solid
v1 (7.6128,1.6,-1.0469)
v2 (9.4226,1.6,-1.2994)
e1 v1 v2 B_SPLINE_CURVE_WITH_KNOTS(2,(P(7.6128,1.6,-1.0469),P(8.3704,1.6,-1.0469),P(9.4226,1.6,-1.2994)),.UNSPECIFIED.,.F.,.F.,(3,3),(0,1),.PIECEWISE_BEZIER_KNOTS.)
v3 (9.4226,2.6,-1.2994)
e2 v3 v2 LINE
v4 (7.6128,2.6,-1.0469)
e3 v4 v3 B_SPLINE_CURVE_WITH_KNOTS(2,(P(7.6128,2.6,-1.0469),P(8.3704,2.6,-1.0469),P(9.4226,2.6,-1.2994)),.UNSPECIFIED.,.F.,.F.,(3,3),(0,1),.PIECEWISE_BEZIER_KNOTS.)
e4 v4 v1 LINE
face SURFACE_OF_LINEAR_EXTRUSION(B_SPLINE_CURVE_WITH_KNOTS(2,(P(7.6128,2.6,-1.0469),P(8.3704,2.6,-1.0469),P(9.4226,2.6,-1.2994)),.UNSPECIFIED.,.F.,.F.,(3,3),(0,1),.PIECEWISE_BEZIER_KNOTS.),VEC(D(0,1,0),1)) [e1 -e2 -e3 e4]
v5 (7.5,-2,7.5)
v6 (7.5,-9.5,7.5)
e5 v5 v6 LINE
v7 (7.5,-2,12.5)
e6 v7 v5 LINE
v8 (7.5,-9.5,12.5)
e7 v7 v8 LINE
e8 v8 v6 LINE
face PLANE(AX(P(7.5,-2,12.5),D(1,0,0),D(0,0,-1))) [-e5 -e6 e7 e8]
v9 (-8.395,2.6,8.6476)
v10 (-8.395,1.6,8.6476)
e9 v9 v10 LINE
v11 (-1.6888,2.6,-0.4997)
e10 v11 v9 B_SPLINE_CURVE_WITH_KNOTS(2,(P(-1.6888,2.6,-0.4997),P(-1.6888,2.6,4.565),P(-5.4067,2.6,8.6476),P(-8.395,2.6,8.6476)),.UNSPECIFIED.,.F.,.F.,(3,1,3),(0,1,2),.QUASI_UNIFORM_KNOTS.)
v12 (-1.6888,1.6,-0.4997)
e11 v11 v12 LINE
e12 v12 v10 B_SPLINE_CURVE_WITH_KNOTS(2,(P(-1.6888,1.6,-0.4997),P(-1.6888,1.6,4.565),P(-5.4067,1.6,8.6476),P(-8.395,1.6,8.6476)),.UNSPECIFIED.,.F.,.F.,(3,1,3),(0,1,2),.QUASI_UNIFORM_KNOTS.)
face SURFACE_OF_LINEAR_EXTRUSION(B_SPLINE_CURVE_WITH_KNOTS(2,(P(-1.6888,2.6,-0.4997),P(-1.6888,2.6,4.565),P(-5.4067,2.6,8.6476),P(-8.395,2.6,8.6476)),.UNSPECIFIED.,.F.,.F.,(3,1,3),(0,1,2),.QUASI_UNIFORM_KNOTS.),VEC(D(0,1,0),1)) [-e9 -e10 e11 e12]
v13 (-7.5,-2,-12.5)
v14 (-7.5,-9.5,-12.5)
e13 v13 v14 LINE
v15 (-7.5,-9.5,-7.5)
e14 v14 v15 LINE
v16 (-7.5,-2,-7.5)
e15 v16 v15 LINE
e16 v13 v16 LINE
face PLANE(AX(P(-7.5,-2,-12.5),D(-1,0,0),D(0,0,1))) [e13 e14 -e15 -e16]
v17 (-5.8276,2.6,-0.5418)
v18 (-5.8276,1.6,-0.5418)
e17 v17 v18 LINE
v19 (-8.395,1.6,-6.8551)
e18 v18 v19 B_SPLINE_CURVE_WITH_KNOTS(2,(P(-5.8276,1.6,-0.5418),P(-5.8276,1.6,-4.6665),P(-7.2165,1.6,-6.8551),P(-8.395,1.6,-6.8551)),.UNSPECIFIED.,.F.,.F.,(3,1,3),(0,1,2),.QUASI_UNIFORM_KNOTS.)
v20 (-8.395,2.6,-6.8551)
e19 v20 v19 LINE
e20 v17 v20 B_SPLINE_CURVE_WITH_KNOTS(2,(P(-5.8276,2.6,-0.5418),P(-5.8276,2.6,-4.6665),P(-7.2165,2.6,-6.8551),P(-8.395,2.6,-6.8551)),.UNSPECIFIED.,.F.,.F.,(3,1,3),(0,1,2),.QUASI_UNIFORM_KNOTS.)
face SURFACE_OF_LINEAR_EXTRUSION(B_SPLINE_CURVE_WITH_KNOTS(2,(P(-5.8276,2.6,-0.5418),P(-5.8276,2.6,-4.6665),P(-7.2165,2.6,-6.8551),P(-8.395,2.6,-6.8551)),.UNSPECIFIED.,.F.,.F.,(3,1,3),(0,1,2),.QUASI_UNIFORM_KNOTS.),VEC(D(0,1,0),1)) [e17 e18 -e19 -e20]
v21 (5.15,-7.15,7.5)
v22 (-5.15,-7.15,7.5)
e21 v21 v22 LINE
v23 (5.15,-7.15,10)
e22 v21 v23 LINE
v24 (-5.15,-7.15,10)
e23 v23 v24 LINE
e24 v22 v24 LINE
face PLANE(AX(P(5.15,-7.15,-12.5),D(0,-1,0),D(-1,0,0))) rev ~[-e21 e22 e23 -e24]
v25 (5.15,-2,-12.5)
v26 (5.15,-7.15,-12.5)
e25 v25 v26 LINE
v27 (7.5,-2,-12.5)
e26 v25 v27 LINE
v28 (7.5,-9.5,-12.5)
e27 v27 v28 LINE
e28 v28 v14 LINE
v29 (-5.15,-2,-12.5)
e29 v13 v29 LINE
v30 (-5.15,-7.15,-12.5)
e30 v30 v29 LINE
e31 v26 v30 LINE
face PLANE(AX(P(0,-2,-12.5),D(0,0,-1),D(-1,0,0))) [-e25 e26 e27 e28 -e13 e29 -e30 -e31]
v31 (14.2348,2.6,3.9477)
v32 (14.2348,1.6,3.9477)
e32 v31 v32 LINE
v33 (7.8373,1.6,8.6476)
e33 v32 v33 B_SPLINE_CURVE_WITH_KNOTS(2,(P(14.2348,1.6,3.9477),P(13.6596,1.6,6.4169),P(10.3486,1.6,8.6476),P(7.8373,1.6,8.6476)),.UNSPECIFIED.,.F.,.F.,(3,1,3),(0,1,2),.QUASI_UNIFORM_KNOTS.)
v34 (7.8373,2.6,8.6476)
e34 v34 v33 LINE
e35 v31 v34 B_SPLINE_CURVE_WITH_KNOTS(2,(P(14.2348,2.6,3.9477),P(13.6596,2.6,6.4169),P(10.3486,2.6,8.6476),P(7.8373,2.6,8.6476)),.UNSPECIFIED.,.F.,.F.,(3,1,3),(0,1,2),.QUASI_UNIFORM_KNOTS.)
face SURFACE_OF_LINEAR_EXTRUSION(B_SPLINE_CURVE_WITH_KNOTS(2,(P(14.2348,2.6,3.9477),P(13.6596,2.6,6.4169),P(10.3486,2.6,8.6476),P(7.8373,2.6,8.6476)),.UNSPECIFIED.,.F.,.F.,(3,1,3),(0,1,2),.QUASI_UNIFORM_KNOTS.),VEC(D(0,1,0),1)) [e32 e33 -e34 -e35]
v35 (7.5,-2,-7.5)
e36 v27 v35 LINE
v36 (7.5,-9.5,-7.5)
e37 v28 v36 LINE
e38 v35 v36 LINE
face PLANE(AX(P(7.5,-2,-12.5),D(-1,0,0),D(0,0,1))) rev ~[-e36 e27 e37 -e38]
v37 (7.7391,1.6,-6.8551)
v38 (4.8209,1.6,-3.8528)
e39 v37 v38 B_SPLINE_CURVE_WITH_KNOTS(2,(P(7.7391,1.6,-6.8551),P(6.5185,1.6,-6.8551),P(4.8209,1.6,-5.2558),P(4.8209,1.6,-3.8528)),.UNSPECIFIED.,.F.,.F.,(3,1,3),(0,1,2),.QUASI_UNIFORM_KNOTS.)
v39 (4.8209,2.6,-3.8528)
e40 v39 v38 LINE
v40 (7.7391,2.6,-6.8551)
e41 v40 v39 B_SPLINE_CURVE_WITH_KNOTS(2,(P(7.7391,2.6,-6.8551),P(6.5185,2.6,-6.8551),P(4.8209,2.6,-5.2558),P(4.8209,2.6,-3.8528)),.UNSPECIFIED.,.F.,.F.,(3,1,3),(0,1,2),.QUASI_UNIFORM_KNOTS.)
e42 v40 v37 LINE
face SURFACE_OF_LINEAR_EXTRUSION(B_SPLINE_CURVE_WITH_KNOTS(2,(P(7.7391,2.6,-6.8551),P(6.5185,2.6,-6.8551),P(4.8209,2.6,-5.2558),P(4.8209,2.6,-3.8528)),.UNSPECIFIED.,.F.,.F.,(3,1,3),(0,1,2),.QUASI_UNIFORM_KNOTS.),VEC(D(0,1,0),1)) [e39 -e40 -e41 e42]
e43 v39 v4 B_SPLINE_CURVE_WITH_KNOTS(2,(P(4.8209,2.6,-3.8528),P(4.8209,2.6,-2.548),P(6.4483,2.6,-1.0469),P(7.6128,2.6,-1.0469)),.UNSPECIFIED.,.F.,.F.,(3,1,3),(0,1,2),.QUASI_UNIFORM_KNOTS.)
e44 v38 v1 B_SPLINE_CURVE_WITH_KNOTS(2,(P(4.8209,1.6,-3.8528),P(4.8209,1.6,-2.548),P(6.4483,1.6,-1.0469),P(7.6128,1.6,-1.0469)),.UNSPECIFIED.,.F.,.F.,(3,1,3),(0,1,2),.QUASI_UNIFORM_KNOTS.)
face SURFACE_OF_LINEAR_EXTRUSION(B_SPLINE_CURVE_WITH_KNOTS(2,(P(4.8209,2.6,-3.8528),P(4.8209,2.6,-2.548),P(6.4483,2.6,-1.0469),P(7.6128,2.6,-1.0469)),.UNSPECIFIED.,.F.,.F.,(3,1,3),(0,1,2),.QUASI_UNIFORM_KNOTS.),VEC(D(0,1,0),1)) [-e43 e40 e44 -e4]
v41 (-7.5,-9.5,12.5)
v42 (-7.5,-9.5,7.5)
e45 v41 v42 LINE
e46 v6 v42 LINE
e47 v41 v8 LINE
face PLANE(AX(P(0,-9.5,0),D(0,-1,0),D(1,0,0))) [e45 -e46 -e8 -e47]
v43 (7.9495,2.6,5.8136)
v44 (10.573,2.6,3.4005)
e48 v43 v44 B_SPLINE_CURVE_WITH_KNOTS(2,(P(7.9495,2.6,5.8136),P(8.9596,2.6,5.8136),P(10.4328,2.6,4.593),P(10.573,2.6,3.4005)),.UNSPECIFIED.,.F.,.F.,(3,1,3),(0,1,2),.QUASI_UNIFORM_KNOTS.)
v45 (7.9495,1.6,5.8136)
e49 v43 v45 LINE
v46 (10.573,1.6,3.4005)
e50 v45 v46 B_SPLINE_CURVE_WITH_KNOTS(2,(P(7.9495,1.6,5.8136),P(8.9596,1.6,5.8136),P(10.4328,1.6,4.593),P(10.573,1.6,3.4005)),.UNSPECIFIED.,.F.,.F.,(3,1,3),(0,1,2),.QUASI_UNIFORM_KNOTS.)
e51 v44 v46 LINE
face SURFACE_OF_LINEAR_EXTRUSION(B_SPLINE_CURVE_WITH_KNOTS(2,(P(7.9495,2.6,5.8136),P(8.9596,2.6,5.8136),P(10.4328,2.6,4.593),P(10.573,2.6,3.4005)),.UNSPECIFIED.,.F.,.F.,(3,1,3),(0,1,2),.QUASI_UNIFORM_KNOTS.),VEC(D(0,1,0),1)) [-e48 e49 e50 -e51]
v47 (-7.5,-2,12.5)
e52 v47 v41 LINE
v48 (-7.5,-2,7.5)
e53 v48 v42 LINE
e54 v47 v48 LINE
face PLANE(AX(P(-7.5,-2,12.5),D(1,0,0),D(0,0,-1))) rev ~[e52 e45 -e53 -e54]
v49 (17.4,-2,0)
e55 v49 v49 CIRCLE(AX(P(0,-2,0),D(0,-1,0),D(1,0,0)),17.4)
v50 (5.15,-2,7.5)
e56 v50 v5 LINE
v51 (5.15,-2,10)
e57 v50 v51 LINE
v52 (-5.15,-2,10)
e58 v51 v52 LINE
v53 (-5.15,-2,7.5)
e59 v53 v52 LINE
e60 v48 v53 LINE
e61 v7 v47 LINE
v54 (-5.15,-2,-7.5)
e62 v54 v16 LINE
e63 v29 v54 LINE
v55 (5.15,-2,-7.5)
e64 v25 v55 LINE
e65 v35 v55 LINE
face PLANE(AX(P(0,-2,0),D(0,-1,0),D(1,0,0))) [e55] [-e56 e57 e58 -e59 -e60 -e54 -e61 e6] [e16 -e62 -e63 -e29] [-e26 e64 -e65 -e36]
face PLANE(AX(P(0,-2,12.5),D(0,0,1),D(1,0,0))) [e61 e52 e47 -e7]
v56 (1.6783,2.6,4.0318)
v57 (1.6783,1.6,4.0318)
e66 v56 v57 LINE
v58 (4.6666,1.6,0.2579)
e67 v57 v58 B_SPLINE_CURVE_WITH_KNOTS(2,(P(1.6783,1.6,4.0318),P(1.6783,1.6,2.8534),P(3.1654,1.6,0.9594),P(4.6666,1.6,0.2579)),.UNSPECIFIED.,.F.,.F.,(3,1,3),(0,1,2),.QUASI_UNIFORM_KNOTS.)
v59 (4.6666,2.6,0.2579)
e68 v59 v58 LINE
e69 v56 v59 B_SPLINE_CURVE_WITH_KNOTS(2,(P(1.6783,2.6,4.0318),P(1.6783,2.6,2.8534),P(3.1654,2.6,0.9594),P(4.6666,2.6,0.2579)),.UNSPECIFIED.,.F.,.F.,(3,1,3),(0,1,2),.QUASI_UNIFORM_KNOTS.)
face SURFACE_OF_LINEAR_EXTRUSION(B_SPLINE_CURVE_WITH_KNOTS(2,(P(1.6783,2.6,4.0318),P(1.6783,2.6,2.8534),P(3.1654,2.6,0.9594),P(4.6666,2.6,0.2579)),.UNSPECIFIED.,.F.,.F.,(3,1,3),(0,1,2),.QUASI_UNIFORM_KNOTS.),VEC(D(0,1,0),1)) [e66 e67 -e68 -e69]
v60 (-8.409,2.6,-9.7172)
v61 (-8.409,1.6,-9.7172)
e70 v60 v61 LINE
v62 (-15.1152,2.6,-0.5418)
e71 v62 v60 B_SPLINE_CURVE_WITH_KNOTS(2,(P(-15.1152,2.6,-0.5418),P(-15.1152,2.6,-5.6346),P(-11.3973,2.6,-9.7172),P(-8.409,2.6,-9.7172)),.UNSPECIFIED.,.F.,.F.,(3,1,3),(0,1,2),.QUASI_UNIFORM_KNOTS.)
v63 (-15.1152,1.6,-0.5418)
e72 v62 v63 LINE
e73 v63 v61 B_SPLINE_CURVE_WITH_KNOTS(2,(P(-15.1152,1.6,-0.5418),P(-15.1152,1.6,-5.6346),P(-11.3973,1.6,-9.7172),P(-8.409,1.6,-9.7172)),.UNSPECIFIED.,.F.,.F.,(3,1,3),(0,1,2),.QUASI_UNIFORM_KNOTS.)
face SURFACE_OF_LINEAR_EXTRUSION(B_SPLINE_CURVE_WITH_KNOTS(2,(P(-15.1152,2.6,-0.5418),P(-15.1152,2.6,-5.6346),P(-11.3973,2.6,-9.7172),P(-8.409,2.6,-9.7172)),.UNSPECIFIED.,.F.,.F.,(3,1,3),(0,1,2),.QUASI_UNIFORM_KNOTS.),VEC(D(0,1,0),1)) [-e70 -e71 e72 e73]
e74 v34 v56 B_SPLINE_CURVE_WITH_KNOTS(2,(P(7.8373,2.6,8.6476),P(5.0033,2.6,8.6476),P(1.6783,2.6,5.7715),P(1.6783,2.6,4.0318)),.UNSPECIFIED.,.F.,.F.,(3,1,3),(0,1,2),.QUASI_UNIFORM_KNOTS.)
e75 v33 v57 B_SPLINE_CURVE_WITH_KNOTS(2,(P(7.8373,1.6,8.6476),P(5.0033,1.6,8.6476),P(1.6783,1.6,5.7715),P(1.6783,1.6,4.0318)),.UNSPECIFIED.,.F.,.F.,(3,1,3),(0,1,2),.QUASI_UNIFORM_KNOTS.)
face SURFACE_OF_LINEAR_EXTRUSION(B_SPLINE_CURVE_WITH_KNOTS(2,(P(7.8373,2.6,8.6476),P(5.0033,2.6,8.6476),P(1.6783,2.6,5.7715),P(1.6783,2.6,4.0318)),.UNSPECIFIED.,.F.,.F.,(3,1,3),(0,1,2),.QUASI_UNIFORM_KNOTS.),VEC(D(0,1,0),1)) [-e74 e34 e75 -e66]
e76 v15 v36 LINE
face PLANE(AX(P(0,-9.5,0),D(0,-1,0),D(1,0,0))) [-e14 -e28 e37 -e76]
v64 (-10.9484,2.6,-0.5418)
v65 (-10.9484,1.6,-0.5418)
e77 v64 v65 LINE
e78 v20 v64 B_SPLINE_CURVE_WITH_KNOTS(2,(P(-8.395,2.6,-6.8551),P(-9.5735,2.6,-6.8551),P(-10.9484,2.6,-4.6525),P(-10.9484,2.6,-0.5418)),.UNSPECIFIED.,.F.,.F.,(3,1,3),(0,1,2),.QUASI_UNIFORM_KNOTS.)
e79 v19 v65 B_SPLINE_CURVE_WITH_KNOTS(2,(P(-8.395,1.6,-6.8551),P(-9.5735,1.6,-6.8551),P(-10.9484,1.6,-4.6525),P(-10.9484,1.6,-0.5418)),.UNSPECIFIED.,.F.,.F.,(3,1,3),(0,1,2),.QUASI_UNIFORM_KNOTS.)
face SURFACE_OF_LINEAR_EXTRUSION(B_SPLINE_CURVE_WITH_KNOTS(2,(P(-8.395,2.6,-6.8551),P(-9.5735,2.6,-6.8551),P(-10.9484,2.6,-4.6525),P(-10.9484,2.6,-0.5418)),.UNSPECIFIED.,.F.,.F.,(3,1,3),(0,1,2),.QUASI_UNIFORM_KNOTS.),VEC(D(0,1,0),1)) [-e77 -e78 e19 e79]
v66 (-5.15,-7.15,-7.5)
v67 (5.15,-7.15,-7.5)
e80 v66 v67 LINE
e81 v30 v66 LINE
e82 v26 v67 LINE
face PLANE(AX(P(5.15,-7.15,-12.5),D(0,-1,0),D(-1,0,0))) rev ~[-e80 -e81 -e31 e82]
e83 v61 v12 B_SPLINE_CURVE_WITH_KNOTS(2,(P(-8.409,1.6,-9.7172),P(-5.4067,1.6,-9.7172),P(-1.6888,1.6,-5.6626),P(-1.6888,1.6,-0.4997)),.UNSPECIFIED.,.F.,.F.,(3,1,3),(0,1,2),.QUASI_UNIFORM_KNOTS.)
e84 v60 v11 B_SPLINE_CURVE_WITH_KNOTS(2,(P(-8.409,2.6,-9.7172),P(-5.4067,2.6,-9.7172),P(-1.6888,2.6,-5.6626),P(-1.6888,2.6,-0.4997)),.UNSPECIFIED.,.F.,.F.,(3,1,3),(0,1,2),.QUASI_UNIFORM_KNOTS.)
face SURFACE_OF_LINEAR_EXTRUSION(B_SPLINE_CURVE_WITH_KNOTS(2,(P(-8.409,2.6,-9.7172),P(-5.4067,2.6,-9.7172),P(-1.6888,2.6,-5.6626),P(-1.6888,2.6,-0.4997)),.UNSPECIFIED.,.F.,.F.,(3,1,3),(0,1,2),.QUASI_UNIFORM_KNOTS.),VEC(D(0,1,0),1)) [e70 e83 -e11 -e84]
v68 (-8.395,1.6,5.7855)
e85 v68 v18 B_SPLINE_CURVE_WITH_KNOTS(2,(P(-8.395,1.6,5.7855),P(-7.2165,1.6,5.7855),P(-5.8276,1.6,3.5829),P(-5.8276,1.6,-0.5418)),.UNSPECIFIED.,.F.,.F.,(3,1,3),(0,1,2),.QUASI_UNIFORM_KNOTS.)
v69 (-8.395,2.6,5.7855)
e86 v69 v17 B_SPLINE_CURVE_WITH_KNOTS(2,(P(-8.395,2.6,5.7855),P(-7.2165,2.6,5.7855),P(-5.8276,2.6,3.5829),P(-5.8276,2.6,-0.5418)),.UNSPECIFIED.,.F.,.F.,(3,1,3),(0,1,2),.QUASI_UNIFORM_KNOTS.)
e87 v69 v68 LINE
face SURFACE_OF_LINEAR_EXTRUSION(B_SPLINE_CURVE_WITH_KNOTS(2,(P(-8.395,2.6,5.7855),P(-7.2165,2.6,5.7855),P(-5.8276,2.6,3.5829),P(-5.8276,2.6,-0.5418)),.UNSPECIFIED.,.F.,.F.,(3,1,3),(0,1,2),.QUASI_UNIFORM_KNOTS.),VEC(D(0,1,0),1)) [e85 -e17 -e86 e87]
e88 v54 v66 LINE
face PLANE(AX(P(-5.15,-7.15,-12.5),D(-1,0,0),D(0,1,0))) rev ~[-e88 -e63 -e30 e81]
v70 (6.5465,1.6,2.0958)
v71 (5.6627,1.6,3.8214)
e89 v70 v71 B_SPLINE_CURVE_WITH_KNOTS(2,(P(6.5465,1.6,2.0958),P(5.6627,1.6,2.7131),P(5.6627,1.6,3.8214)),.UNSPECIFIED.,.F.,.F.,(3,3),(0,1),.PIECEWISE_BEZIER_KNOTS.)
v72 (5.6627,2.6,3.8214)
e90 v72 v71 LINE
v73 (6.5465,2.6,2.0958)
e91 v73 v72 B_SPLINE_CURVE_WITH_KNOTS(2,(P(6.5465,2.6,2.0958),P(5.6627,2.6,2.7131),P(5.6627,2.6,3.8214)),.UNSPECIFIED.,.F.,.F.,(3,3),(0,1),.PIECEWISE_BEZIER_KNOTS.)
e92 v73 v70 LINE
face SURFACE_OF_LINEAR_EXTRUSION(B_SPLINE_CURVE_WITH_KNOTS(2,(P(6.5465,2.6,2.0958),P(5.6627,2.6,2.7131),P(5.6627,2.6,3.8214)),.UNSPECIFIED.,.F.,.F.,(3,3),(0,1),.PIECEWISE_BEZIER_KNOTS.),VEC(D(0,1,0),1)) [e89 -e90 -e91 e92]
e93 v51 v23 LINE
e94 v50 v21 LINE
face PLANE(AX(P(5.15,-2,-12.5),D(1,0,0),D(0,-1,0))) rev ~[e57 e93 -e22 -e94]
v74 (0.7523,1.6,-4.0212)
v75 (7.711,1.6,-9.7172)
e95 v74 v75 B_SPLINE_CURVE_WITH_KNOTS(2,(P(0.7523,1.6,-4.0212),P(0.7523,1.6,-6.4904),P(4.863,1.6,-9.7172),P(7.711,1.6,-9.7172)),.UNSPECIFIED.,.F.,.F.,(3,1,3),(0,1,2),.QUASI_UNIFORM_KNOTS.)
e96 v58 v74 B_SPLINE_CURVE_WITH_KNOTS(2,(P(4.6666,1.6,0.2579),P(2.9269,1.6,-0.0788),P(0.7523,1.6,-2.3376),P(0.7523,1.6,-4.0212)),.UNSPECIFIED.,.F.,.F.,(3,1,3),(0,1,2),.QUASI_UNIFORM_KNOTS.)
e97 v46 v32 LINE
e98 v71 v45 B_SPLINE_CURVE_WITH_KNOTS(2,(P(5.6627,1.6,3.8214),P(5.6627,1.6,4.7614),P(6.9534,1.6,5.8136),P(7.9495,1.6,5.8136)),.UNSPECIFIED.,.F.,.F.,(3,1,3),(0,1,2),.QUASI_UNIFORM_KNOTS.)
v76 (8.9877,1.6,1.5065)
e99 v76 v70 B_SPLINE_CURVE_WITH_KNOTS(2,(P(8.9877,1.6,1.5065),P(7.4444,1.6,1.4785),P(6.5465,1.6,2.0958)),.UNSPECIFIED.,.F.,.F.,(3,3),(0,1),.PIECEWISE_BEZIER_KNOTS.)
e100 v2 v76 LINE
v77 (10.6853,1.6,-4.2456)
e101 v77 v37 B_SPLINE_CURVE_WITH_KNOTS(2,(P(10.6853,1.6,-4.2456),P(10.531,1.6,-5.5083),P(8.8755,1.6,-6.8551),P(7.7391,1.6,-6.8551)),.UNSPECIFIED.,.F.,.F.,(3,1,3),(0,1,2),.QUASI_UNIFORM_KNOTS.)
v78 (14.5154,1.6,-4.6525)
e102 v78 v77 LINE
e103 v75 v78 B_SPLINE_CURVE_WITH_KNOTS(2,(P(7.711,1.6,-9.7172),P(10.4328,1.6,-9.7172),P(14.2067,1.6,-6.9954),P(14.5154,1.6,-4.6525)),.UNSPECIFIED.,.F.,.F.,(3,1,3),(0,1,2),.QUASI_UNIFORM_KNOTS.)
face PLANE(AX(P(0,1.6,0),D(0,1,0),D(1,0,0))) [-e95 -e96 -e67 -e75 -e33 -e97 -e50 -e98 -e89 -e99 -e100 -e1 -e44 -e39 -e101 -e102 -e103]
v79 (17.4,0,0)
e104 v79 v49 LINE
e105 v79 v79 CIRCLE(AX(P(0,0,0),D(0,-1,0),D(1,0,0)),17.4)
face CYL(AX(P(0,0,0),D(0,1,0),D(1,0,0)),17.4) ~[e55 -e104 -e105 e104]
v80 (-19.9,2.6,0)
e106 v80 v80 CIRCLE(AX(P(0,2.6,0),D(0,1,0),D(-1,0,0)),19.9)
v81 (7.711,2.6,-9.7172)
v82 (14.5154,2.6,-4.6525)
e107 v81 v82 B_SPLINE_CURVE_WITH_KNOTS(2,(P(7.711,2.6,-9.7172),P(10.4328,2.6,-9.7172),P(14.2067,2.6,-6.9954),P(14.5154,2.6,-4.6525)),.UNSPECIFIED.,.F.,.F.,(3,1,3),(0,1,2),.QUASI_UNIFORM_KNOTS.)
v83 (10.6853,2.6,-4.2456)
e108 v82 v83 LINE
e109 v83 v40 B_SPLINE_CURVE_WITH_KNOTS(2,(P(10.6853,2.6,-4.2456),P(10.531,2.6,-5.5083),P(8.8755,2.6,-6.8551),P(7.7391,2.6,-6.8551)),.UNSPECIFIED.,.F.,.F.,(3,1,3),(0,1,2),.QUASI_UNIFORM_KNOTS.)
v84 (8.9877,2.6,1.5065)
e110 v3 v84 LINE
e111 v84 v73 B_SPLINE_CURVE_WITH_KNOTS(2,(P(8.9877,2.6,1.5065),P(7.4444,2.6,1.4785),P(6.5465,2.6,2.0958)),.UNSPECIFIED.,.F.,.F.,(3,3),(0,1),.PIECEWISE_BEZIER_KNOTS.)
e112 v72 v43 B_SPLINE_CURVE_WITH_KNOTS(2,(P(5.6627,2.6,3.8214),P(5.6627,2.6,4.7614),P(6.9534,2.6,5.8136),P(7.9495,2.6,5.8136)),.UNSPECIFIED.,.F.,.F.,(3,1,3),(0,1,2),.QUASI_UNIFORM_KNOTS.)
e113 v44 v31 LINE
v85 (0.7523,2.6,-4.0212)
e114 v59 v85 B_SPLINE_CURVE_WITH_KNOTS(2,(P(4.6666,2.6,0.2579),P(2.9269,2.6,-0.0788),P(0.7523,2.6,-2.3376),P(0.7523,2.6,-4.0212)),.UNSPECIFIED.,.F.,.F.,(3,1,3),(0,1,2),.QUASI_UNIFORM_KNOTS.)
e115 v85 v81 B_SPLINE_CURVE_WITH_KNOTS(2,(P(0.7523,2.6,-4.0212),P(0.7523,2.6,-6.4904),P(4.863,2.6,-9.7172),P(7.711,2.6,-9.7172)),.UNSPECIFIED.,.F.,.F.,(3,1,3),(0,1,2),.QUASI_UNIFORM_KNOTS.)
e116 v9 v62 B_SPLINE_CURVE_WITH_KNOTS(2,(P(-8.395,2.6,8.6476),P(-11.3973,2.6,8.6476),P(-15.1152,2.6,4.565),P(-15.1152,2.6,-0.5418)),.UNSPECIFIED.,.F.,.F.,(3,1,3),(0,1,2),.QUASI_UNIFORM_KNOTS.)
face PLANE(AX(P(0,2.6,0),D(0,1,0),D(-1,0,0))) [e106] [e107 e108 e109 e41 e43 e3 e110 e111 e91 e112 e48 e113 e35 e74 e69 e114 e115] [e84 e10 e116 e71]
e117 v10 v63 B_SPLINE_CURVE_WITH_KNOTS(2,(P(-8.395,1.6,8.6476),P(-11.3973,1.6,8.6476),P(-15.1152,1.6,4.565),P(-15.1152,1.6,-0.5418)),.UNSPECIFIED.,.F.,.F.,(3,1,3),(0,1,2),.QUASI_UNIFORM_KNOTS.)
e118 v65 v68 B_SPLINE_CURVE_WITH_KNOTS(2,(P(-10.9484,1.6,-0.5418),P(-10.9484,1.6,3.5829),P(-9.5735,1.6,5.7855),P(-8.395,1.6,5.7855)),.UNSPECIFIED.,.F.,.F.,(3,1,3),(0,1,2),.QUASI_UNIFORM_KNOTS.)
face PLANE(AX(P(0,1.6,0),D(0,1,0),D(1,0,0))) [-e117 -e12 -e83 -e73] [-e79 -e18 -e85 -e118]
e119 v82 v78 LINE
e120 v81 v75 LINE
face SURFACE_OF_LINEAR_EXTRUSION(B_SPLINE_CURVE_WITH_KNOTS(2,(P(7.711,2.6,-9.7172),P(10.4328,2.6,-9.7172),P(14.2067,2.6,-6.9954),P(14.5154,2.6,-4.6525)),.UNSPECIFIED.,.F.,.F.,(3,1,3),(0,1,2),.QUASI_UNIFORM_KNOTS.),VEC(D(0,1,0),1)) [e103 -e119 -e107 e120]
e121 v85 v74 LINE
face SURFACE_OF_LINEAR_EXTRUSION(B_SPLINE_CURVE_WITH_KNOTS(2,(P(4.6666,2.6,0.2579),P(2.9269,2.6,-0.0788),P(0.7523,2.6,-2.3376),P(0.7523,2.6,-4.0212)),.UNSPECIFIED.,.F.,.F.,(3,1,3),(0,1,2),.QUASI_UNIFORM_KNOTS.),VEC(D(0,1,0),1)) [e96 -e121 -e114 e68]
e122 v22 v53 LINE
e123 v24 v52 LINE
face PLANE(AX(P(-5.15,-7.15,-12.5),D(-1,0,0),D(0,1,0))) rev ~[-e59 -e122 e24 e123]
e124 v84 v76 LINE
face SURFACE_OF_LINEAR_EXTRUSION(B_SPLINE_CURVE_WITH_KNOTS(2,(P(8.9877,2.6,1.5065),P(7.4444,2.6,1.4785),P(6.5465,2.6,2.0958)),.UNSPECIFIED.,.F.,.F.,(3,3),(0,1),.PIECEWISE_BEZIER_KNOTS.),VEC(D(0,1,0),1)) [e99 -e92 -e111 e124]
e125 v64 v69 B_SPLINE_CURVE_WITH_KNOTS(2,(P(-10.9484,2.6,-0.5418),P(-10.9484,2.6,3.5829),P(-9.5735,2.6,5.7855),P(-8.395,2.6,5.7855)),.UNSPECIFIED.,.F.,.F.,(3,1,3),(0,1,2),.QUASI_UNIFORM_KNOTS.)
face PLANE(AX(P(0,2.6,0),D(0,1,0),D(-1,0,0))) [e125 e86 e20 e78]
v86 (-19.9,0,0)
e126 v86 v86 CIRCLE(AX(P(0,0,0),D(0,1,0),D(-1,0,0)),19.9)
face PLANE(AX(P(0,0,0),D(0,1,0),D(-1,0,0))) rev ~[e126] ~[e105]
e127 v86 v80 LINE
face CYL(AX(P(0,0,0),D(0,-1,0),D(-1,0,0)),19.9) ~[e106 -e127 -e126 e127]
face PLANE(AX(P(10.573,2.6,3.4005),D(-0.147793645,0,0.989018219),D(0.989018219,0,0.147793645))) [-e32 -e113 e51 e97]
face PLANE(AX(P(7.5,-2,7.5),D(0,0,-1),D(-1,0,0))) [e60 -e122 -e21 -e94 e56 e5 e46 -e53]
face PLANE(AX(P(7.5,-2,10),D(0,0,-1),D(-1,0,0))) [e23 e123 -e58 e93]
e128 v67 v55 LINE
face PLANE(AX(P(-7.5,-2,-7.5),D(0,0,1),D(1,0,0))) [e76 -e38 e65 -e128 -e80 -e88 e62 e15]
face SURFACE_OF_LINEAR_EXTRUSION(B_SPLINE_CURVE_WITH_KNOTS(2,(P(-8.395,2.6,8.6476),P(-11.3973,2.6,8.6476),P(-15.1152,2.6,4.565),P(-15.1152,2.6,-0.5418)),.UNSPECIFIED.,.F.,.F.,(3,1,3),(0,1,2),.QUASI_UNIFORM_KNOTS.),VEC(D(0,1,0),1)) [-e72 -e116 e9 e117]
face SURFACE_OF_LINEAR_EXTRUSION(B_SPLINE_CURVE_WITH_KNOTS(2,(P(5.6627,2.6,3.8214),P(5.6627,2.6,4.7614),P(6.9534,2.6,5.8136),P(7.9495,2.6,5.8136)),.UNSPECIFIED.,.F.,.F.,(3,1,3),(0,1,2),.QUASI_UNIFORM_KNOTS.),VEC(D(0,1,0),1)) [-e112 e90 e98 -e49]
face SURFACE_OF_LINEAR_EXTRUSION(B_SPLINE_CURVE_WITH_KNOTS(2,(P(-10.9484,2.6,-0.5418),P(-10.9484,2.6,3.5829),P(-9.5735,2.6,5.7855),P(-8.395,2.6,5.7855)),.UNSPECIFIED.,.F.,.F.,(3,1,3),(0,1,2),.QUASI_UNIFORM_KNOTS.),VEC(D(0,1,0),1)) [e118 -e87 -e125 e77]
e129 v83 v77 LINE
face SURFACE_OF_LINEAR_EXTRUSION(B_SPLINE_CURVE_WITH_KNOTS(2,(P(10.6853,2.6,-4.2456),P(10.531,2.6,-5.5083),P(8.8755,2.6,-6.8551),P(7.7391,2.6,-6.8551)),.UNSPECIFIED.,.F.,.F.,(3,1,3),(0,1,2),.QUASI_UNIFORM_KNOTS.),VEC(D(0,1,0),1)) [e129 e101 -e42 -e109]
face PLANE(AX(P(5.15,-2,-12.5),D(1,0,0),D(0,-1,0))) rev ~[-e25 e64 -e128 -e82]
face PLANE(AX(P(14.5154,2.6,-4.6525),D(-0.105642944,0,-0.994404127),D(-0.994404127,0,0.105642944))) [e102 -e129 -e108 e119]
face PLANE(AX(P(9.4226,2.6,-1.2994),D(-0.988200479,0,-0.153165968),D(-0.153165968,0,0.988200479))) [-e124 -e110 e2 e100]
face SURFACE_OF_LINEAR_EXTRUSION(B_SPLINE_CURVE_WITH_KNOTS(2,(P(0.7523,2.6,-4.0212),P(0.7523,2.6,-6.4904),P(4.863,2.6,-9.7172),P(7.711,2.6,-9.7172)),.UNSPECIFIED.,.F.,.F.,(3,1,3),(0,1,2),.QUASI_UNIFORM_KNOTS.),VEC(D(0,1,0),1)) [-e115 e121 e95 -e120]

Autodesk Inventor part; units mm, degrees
ref_plane "YZ Plane" through (0, 0, 0) normal (1, 0, 0) x (0, 1, 0)
ref_plane "XZ Plane" through (0, 0, 0) normal (0, 1, 0) x (-1, 0, 0)
sketch "Sketch1" plane through (0, 0, 0) normal (0, 1, 0) x (-1, 0, 0)
  circle A0 centre (0, 0) radius 19.9
  dimension "d0" = 39.8
extrude "Extrusion1" add sketch "Sketch1" along normal blind 2.6
sketch "Sketch2" plane through (0, 0, 0) normal (0, -1, 0) x (1, 0, 0)
  circle A0 centre (0, 0) radius 19.9 projected
  circle A1 centre (0, 0) radius 17.4
  dimension "d3" = 34.8
extrude "Extrusion2" add sketch "Sketch2" along normal blind 2 contours A1
sketch "Sketch3" plane through (0, -2, 0) normal (0, -1, 0) x (1, 0, 0)
  circle A0 centre (0, 0) radius 17.4 projected
  line L0 (0, 0) -> (0, 17.4) construction
  line L1 (0, 0) -> (17.4, 0) construction
  line L2 (0, 12.5) -> (7.5, 12.5)
  line L3 (7.5, 12.5) -> (7.5, 7.5)
  line L4 (7.5, 7.5) -> (0, 7.5)
  line L5 (0, 12.5) -> (-7.5, 12.5)
  line L6 (-7.5, 12.5) -> (-7.5, 7.5)
  line L7 (-7.5, 7.5) -> (0, 7.5)
  line L8 (0, -12.5) -> (7.5, -12.5)
  line L9 (7.5, -12.5) -> (7.5, -7.5)
  line L10 (7.5, -7.5) -> (0, -7.5)
  line L11 (-7.5, -7.5) -> (0, -7.5)
  line L12 (-7.5, -12.5) -> (-7.5, -7.5)
  line L13 (0, -12.5) -> (-7.5, -12.5)
  dimension "d6" = 15
  dimension "d7" = 5
  dimension "d8" = 15
extrude "Extrusion3" add sketch "Sketch3" along normal blind 7.5 contours L2 L3 L4 L7 L6 L5 | L13 L12 L11 L10 L9 L8
ref_plane "Work Plane1" through (7.5, -9.5, 10) normal (0, 0, 1) x (1, 0, 0)
sketch "Sketch4" plane through (7.5, -2, -12.5) normal (0, 0, -1) x (-1, 0, 0)
  line L0 (0, 0) -> (15, 0) projected
  line L1 (0, 0) -> (0, -7.5) projected
  line L2 (15, -7.5) -> (0, -7.5) projected
  line L3 (15, 0) -> (15, -7.5) projected
  line L4 (2.35, 0) -> (2.35, -5.15)
  line L5 (2.35, -5.15) -> (12.65, -5.15)
  line L6 (12.65, -5.15) -> (12.65, 0)
  line L7 (2.35, -5.15) -> (0, -5.15) construction
  line L8 (2.35, -5.15) -> (2.35, -7.5) construction
  line L9 (12.65, -5.15) -> (15, -5.15) construction
  point P0 (7.5, 2)
  dimension "d11" = 10.3
extrude "Extrusion4" cut sketch "Sketch4" against normal up to surface (22.5 mm away) contours L0 L6 L5 L4
sketch "Sketch5" plane through (0, 2.6, 0) normal (0, 1, 0) x (1, 0, 0)
  line L0 (15.5957, -8.6476) -> (-15.5957, -8.6476) construction
  line L1 (-15.5957, -8.6476) -> (-15.5957, 11.0665) construction
  line L2 (-15.5957, 11.0665) -> (15.5957, 11.0665) construction
  line L3 (15.5957, 11.0665) -> (15.5957, -8.6476) construction
  line L4 (14.5154, 4.6525) -> (10.6853, 4.2456)
  spline S0 degree 2 poles (10.6853, 4.2456) (10.531, 5.5083) (8.8755, 6.8551) (7.7391, 6.8551) knots 0 0 0 1 2 2 2
  spline S1 degree 2 poles (7.7391, 6.8551) (6.5185, 6.8551) (4.8209, 5.2558) (4.8209, 3.8528) knots 0 0 0 1 2 2 2
  spline S2 degree 2 poles (4.8209, 3.8528) (4.8209, 2.548) (6.4483, 1.0469) (7.6128, 1.0469) knots 0 0 0 1 2 2 2
  spline S3 degree 2 poles (7.6128, 1.0469) (8.3704, 1.0469) (9.4226, 1.2994) knots 0 0 0 1 1 1
  line L5 (9.4226, 1.2994) -> (8.9877, -1.5065)
  spline S4 degree 2 poles (8.9877, -1.5065) (7.4444, -1.4785) (6.5465, -2.0958) knots 0 0 0 1 1 1
  spline S5 degree 2 poles (6.5465, -2.0958) (5.6627, -2.7131) (5.6627, -3.8214) knots 0 0 0 1 1 1
  spline S6 degree 2 poles (5.6627, -3.8214) (5.6627, -4.7614) (6.9534, -5.8136) (7.9495, -5.8136) knots 0 0 0 1 2 2 2
  spline S7 degree 2 poles (7.9495, -5.8136) (8.9596, -5.8136) (10.4328, -4.593) (10.573, -3.4005) knots 0 0 0 1 2 2 2
  line L6 (10.573, -3.4005) -> (14.2348, -3.9477)
  spline S8 degree 2 poles (14.2348, -3.9477) (13.6596, -6.4169) (10.3486, -8.6476) (7.8373, -8.6476) knots 0 0 0 1 2 2 2
  spline S9 degree 2 poles (7.8373, -8.6476) (5.0033, -8.6476) (1.6783, -5.7715) (1.6783, -4.0318) knots 0 0 0 1 2 2 2
  spline S10 degree 2 poles (1.6783, -4.0318) (1.6783, -2.8534) (3.1654, -0.9594) (4.6666, -0.2579) knots 0 0 0 1 2 2 2
  spline S11 degree 2 poles (4.6666, -0.2579) (2.9269, 0.0788) (0.7523, 2.3376) (0.7523, 4.0212) knots 0 0 0 1 2 2 2
  spline S12 degree 2 poles (0.7523, 4.0212) (0.7523, 6.4904) (4.863, 9.7172) (7.711, 9.7172) knots 0 0 0 1 2 2 2
  spline S13 degree 2 poles (7.711, 9.7172) (10.4328, 9.7172) (14.2067, 6.9954) (14.5154, 4.6525) knots 0 0 0 1 2 2 2
  spline S14 degree 2 poles (-8.395, -8.6476) (-11.3973, -8.6476) (-15.1152, -4.565) (-15.1152, 0.5418) knots 0 0 0 1 2 2 2
  spline S15 degree 2 poles (-15.1152, 0.5418) (-15.1152, 5.6346) (-11.3973, 9.7172) (-8.409, 9.7172) knots 0 0 0 1 2 2 2
  spline S16 degree 2 poles (-8.409, 9.7172) (-5.4067, 9.7172) (-1.6888, 5.6626) (-1.6888, 0.4997) knots 0 0 0 1 2 2 2
  spline S17 degree 2 poles (-1.6888, 0.4997) (-1.6888, -4.565) (-5.4067, -8.6476) (-8.395, -8.6476) knots 0 0 0 1 2 2 2
  spline S18 degree 2 poles (-8.395, -5.7855) (-7.2165, -5.7855) (-5.8276, -3.5829) (-5.8276, 0.5418) knots 0 0 0 1 2 2 2
  spline S19 degree 2 poles (-5.8276, 0.5418) (-5.8276, 4.6665) (-7.2165, 6.8551) (-8.395, 6.8551) knots 0 0 0 1 2 2 2
  spline S20 degree 2 poles (-8.395, 6.8551) (-9.5735, 6.8551) (-10.9484, 4.6525) (-10.9484, 0.5418) knots 0 0 0 1 2 2 2
  spline S21 degree 2 poles (-10.9484, 0.5418) (-10.9484, -3.5829) (-9.5735, -5.7855) (-8.395, -5.7855) knots 0 0 0 1 2 2 2
extrude "Extrusion5" cut sketch "Sketch5" against normal blind 1
properties part number "Inside"
